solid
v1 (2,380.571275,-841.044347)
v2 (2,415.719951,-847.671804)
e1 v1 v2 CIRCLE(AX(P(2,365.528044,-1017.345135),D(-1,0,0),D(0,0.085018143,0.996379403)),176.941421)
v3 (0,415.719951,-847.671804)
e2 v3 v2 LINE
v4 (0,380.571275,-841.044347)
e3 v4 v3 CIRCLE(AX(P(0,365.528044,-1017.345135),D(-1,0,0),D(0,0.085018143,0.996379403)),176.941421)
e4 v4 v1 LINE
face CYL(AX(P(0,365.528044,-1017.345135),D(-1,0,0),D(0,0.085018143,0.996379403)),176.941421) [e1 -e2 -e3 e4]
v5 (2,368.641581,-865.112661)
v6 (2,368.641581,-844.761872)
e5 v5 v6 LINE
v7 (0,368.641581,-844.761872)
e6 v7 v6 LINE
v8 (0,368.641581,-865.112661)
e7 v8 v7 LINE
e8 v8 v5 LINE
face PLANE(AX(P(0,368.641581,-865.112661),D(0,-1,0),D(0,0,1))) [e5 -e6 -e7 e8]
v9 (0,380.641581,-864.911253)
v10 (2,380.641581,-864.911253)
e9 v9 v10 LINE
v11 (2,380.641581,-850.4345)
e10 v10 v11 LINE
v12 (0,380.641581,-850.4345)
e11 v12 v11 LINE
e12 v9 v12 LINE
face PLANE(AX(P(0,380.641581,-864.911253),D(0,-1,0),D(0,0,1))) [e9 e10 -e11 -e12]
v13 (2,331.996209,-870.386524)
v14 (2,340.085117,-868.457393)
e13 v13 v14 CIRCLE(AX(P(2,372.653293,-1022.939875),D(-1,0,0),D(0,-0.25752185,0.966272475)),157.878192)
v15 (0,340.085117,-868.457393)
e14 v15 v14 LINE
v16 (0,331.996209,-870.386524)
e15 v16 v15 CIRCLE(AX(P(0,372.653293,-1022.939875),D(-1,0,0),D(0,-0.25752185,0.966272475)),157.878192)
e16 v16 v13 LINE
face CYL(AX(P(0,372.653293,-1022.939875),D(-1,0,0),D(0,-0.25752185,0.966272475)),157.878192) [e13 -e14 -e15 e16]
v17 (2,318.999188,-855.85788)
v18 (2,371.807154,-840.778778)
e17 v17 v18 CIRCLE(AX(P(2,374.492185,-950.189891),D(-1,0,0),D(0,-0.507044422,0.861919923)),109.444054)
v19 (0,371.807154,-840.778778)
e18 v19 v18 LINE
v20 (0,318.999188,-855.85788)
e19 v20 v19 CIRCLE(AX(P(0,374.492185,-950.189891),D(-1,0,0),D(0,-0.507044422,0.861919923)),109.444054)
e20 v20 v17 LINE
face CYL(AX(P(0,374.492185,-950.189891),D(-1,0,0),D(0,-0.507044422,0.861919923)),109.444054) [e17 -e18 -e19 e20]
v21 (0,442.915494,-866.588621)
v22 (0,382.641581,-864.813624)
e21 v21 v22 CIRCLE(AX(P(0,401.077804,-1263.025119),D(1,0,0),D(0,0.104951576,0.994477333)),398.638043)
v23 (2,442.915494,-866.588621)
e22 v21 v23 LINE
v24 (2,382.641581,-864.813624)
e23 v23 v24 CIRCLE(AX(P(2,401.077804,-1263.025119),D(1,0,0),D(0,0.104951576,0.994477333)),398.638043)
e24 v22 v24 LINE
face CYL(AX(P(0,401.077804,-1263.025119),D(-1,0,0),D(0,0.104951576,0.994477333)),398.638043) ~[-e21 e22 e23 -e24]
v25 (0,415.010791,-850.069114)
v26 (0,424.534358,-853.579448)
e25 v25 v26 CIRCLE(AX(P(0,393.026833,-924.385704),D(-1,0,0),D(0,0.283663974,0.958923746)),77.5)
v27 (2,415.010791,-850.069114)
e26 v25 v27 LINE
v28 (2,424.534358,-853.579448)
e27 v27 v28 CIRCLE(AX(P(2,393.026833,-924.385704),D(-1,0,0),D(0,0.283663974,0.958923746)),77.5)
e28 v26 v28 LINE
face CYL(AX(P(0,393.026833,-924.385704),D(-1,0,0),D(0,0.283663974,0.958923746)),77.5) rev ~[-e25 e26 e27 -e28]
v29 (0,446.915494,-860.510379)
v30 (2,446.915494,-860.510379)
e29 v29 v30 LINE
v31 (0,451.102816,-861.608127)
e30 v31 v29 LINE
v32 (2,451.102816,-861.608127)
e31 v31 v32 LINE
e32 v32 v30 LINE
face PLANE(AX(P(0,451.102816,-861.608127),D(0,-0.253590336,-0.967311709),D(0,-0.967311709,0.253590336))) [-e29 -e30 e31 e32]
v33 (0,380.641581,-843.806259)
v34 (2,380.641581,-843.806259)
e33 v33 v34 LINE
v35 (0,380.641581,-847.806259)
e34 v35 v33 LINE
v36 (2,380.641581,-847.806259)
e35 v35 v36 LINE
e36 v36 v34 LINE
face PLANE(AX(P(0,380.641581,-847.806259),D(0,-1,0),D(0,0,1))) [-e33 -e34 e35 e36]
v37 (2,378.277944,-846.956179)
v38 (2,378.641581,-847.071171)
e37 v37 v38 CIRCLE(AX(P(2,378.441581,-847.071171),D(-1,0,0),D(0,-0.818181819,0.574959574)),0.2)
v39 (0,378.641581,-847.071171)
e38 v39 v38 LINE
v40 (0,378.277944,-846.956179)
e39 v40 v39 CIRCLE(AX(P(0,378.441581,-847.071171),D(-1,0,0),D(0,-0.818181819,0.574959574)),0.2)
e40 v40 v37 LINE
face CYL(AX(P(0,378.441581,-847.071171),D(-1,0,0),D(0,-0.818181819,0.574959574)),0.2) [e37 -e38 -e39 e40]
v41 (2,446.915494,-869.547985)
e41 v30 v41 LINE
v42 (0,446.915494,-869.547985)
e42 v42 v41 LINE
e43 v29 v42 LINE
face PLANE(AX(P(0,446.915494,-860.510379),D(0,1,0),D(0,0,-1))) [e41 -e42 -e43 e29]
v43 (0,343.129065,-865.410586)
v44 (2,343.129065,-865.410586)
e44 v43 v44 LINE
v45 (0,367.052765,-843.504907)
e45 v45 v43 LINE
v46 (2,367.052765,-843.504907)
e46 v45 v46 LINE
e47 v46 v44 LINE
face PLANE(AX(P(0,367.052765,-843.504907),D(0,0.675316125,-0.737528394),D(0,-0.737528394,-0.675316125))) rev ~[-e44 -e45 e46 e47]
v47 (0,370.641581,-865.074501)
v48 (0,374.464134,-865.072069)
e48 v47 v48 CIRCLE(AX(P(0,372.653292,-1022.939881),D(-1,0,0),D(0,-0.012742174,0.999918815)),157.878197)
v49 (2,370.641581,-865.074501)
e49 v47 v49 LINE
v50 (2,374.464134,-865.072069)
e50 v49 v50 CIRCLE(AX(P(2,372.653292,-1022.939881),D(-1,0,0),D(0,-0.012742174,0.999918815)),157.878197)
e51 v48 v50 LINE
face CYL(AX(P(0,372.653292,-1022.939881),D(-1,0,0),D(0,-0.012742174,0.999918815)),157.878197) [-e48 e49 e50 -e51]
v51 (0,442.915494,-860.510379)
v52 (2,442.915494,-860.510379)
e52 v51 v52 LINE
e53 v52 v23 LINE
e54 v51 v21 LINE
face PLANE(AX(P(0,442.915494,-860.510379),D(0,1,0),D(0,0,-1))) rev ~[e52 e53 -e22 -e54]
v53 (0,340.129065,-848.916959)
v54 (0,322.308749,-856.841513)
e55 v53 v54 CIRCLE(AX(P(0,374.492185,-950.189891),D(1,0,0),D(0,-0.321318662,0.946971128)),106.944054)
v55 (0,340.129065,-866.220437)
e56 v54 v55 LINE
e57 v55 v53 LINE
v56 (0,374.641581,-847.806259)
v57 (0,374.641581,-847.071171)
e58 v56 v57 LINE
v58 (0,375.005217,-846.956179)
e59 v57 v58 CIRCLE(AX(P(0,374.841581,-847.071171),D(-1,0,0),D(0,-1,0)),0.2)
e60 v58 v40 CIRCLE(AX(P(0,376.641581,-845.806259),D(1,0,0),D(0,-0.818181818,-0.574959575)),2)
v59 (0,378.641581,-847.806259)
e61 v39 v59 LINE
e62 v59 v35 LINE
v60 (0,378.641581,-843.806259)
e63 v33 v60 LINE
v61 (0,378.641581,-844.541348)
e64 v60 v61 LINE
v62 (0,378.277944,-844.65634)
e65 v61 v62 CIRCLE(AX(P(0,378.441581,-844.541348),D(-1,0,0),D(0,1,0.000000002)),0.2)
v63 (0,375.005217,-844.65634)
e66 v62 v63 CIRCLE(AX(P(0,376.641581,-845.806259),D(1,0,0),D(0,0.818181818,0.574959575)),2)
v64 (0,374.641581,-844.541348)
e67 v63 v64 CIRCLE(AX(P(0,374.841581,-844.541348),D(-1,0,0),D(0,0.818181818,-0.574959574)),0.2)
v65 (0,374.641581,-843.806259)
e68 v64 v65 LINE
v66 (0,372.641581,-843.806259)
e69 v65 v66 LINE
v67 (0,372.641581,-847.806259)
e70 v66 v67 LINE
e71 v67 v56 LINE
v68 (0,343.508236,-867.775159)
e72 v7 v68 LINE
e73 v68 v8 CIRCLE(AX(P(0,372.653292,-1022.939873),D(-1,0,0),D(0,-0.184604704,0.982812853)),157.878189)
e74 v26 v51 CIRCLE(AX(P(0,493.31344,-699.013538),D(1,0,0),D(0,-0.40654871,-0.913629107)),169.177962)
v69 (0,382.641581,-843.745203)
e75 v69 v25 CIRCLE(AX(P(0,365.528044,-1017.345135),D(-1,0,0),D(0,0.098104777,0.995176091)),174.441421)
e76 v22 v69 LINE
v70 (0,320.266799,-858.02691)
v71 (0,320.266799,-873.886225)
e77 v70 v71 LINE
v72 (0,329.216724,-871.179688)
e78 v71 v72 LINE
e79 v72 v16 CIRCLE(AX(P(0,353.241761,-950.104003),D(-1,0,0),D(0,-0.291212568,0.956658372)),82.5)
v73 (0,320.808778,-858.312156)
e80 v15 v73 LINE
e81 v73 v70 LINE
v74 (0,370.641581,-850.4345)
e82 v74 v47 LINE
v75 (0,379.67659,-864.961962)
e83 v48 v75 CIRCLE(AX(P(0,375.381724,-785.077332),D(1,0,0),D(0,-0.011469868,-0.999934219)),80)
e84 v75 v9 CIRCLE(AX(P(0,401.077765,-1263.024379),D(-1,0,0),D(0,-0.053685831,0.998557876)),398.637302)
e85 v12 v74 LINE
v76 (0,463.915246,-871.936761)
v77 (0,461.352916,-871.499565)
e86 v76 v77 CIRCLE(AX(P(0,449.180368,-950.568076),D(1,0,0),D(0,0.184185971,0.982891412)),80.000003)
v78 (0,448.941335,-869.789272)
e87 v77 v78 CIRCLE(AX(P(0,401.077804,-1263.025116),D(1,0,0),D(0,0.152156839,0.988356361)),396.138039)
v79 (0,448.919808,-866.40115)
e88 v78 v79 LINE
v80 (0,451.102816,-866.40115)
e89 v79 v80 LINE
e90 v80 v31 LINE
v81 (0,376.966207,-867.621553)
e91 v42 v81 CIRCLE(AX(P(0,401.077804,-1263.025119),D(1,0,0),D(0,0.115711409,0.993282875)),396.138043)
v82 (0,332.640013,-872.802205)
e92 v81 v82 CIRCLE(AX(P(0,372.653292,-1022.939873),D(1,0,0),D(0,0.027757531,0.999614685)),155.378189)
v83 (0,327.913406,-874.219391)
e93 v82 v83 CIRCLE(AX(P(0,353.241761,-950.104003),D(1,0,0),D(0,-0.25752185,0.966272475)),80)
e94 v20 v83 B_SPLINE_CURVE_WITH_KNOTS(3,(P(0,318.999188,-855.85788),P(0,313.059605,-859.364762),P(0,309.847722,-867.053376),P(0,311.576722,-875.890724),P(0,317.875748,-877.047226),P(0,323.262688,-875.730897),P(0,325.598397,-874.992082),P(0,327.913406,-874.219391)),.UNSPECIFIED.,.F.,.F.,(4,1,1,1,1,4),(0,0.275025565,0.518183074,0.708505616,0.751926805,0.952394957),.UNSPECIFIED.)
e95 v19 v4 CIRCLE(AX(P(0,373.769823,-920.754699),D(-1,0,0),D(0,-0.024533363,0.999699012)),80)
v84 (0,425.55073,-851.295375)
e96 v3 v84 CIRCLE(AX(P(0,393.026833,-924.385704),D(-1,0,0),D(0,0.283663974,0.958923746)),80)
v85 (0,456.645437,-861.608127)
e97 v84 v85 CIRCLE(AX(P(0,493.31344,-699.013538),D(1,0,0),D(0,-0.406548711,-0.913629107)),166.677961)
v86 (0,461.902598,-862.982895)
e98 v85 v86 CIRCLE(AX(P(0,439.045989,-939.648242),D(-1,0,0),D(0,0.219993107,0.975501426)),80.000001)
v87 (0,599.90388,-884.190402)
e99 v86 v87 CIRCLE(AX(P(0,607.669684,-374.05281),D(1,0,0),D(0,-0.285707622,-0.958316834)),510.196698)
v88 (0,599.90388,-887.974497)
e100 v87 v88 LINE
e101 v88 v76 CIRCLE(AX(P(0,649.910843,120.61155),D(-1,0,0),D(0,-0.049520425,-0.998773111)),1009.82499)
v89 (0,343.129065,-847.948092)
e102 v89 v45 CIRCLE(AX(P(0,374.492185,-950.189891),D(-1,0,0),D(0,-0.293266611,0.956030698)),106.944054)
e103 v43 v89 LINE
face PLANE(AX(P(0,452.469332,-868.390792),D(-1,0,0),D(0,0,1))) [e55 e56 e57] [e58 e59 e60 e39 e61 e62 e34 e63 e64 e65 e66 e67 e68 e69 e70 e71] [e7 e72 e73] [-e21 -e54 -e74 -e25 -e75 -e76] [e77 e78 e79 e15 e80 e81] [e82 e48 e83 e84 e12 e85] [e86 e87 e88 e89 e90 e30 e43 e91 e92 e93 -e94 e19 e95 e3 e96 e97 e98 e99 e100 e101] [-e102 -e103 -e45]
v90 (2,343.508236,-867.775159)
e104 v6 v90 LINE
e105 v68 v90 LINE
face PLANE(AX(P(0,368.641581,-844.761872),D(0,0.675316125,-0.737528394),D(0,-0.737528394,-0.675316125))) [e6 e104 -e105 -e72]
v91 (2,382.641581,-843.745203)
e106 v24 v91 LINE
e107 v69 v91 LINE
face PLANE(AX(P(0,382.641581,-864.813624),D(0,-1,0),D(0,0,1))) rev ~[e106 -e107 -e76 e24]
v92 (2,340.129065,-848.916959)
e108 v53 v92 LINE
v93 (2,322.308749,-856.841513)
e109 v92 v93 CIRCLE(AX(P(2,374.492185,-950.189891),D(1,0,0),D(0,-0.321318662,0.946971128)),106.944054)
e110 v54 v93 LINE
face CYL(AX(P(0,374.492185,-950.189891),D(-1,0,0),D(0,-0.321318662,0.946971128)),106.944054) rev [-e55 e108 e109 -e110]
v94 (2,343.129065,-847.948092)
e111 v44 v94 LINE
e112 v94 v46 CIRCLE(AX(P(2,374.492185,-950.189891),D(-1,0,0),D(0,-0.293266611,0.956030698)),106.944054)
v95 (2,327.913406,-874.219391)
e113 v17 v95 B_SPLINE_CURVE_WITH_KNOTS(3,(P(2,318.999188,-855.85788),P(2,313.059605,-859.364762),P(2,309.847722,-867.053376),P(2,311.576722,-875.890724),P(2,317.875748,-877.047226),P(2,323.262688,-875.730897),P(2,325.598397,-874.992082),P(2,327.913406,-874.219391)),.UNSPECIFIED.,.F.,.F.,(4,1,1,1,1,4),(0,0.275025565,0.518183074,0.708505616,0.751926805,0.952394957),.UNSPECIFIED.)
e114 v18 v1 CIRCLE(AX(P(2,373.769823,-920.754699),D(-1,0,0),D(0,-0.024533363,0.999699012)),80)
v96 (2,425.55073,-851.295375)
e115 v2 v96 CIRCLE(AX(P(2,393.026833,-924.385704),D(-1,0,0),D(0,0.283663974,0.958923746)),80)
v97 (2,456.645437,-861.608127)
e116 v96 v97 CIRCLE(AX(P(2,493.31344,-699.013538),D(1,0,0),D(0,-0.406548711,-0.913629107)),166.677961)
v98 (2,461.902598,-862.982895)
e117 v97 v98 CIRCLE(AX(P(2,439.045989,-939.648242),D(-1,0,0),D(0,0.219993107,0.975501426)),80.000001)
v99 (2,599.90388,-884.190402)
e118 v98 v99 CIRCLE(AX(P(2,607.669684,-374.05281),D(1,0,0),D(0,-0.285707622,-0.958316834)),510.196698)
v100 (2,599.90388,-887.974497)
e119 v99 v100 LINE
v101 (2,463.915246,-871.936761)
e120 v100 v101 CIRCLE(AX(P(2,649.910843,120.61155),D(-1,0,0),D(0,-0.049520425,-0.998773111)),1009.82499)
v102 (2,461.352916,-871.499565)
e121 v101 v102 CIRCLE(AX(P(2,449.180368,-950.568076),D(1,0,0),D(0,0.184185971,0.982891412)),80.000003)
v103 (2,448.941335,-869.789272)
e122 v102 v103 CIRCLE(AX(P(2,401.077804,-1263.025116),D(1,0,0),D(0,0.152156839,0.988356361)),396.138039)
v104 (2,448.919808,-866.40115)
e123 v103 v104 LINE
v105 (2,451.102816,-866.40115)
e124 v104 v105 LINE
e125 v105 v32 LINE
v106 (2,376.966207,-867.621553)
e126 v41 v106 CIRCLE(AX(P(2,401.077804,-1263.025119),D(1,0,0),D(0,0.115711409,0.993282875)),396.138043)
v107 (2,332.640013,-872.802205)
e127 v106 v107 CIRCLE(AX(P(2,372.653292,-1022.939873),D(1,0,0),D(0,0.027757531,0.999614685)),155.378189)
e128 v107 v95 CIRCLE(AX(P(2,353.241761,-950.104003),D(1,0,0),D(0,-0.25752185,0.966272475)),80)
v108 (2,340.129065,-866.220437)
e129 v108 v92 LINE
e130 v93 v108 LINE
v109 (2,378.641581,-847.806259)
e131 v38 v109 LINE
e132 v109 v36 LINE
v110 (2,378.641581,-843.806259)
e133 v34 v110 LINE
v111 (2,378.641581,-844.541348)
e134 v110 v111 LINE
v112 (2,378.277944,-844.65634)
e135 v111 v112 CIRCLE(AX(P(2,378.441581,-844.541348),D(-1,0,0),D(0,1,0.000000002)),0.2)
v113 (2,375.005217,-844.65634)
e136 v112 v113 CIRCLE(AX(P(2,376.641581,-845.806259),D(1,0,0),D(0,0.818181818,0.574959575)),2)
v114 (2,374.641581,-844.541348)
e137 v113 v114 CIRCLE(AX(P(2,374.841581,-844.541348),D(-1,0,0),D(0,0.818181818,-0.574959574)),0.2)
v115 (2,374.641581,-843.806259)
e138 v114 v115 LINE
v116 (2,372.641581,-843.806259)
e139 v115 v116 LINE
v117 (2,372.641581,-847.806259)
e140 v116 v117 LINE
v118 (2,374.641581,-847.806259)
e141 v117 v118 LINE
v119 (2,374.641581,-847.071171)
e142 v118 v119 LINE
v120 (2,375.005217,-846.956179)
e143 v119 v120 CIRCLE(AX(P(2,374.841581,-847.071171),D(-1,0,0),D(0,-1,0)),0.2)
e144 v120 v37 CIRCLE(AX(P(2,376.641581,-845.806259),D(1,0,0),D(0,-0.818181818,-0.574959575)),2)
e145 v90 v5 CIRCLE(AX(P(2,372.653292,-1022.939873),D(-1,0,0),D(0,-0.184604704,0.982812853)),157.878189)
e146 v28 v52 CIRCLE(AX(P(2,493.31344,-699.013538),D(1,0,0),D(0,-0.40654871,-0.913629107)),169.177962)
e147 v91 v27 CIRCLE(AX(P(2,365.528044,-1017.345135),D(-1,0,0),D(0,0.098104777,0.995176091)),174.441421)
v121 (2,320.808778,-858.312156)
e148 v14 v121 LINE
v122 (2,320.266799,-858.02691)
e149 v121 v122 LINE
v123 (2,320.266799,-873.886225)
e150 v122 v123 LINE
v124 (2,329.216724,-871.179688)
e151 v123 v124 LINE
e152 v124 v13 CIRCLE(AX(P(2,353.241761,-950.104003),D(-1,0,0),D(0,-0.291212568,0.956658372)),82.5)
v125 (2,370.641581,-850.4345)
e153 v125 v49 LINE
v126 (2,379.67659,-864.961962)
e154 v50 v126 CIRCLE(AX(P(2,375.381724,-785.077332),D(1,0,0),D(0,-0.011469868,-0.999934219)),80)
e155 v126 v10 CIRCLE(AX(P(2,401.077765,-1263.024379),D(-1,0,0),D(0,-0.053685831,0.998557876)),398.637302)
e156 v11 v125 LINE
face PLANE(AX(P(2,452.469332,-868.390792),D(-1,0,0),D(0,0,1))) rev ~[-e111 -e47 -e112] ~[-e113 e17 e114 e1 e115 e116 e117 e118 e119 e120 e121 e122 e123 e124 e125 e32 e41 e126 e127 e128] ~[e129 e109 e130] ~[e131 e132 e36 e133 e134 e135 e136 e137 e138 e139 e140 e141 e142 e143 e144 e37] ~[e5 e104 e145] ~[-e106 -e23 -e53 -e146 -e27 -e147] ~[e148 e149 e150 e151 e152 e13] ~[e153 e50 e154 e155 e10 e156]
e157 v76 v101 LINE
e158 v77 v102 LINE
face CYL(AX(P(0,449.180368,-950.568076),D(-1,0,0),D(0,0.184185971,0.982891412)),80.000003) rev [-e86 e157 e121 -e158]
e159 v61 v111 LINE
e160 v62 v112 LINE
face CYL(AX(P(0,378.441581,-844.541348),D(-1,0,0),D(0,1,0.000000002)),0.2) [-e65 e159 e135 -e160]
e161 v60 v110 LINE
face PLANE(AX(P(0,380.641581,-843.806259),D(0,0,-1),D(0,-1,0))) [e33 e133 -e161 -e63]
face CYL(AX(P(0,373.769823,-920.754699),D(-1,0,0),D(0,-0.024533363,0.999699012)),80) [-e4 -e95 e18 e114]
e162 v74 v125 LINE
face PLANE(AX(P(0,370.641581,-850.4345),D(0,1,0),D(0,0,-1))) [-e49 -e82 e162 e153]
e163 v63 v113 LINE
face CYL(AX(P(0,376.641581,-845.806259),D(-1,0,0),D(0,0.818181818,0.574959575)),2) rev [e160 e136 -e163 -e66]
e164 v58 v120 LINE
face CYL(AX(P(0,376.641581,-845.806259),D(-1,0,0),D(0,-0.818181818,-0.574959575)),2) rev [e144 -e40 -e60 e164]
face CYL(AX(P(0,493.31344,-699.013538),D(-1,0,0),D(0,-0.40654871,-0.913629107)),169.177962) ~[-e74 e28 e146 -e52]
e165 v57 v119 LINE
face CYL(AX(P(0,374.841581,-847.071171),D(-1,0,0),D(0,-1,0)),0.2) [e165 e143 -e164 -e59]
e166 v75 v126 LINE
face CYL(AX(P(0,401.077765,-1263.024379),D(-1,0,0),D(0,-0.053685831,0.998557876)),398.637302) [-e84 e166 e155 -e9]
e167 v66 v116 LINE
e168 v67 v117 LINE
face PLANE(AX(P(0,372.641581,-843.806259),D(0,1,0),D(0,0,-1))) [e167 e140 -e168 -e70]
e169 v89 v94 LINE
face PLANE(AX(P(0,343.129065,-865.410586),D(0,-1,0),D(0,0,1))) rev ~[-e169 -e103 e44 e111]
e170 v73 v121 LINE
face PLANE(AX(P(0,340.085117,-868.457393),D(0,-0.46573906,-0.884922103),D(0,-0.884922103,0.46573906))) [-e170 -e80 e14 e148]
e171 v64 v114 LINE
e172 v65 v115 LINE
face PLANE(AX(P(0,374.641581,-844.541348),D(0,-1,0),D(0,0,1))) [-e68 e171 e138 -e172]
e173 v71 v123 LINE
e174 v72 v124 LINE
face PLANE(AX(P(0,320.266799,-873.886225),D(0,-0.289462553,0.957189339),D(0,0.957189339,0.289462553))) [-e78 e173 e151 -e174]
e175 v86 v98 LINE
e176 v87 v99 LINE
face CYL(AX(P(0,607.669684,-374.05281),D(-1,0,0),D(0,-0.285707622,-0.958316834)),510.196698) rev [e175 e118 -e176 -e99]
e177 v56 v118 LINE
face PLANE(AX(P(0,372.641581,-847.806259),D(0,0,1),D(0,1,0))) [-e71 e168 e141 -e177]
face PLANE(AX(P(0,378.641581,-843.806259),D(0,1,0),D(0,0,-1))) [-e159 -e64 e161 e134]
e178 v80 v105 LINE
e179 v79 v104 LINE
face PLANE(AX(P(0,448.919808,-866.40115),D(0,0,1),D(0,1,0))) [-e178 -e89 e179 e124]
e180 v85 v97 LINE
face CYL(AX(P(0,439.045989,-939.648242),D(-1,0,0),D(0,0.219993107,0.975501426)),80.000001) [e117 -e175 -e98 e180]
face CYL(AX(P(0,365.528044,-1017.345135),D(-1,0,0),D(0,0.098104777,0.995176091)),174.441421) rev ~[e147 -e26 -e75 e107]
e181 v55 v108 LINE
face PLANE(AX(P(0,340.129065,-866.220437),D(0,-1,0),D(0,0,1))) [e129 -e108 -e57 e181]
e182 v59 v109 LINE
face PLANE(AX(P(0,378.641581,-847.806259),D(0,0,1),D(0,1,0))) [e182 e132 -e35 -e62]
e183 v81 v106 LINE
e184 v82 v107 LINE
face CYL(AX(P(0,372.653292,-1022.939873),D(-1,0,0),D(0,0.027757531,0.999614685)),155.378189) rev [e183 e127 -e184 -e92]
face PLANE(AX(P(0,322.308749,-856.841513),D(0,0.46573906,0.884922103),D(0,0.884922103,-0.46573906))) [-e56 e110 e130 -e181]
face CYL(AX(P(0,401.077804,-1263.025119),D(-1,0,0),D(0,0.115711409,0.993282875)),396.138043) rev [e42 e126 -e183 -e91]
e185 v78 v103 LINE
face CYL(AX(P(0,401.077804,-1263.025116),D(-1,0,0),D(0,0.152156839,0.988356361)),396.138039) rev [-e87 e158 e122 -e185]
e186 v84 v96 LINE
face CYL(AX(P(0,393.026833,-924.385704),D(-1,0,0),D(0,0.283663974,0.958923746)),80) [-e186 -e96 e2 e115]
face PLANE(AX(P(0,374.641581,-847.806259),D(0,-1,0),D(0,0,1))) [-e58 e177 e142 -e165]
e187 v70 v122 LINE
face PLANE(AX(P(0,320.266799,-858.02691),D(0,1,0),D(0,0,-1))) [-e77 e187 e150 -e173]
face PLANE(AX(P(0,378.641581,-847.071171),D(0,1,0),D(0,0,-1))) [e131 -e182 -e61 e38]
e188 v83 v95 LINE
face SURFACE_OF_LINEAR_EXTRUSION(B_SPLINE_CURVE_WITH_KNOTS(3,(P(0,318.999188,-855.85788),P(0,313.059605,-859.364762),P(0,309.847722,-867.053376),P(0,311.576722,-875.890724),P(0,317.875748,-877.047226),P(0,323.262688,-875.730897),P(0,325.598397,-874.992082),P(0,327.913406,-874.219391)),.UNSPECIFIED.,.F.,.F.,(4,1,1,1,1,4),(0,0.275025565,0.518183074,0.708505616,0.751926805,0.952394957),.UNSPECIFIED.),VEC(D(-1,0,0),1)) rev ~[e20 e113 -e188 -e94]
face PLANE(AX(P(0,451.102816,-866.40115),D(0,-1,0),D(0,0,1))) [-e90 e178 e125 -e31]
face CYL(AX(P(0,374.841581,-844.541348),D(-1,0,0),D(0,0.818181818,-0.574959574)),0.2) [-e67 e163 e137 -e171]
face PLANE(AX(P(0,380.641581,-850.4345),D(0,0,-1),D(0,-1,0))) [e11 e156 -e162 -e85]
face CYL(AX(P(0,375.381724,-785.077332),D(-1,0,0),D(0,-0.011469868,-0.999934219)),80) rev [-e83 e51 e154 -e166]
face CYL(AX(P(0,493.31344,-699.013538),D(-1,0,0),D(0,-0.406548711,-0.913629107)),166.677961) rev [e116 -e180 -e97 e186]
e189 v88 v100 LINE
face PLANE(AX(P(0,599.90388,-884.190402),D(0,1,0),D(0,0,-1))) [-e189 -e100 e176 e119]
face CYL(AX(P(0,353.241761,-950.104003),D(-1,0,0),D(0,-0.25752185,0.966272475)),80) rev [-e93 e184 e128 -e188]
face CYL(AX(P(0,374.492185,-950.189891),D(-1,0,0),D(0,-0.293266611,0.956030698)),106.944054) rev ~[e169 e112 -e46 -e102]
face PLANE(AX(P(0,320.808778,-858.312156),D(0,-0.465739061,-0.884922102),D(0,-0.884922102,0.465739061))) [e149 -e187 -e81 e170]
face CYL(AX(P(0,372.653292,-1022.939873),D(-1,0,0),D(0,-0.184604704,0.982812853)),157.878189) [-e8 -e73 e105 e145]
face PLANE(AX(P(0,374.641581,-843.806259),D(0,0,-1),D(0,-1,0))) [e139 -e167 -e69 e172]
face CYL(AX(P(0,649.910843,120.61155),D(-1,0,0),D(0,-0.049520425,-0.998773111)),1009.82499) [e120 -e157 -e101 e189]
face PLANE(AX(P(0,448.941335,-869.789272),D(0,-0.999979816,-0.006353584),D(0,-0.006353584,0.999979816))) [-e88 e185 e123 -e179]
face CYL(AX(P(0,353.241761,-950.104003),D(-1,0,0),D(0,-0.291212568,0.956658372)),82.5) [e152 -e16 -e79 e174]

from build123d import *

# Parameters (mm, degrees)
BOSS_EXTRUDE3_DEPTH = 2


with BuildPart() as part:
    # rib1 → Boss-Extrude3 (new body)
    with BuildSketch(Plane(origin=(0, 0, 0), x_dir=(0, 0, -1), z_dir=(1, 0, 0))):
        with BuildLine():
            Line((884.190402355, 599.903880086), (887.974497078, 599.903880086))
            ThreePointArc((887.974497078, 599.903880086), (882.263270905, 531.637412846), (871.936760509, 463.915246337))
            ThreePointArc((871.936760509, 463.915246337), (871.707754952, 462.63585681), (871.499564589, 461.352915705))
            ThreePointArc((871.499564589, 461.352915705), (870.595346832, 455.153887164), (869.789272098, 448.9413347))
            Line((869.789272098, 448.9413347), (866.401149721, 448.919807544))
            Line((866.401149721, 448.919807544), (866.401149721, 451.102816327))
            Line((866.401149721, 451.102816327), (861.608127253, 451.102816327))
            Line((861.608127253, 451.102816327), (860.510379387, 446.915494441))
            Line((860.510379387, 446.915494441), (865.375229135, 446.915494441))
            Line((865.375229135, 446.915494441), (869.54798498, 446.915494441))
            ThreePointArc((869.54798498, 446.915494441), (867.037221046, 411.983470834), (867.621553236, 376.966207023))
            ThreePointArc((867.621553236, 376.966207023), (868.612160303, 354.616141956), (872.80220547, 332.640013262))
            ThreePointArc((872.80220547, 332.640013262), (873.47434667, 330.265780469), (874.219390873, 327.913406289))
            add(Edge.make_bspline(
                [(855.857880167, 318.999188197), (859.364761712, 313.05960504), (867.053375546, 309.847722104), (875.890724025, 311.576721792), (877.047226337, 317.875748314), (875.730897291, 323.262688208), (874.992082107, 325.59839708), (874.219390873, 327.913406289)],
                knots=[0, 0, 0, 0, 0.275025565, 0.518183074, 0.708505616, 0.751926805, 0.952394957, 0.952394957, 0.952394957, 0.952394957], degree=3))
            ThreePointArc((855.857880167, 318.999188197), (844.952134323, 344.441967913), (840.778778225, 371.807154391))
            ThreePointArc((840.778778225, 371.807154391), (840.791401867, 376.192855714), (841.044346896, 380.571274865))
            ThreePointArc((841.044346896, 380.571274865), (843.467649147, 398.313507068), (847.671804222, 415.719950629))
            ThreePointArc((847.671804222, 415.719950629), (849.322478828, 420.694724685), (851.295375271, 425.550729544))
            ThreePointArc((851.295375271, 425.550729544), (857.21755567, 440.844099615), (861.608127253, 456.645437216))
            ThreePointArc((861.608127253, 456.645437216), (862.250861952, 459.285693699), (862.982894629, 461.902598426))
            ThreePointArc((862.982894629, 461.902598426), (878.329662766, 530.174351012), (884.190402355, 599.903880086))
        make_face()
        with BuildLine():
            Line((856.934499706, 370.641580619), (865.074501074, 370.641580619))
            ThreePointArc((865.074501074, 370.641580619), (865.061715716, 372.55284998), (865.072069166, 374.464134061))
            ThreePointArc((865.072069166, 374.464134061), (865.059488848, 377.071259141), (864.961961737, 379.676589813))
            ThreePointArc((864.961961737, 379.676589813), (864.936315213, 380.159069851), (864.911253489, 380.641580619))
            Line((864.911253489, 380.641580619), (855.857880167, 380.641580619))
            Line((855.857880167, 380.641580619), (850.434499706, 380.641580619))
            Line((850.434499706, 380.641580619), (850.434499706, 379.641580619))
            Line((850.434499706, 379.641580619), (850.434499706, 376.641580619))
            Line((850.434499706, 376.641580619), (850.434499706, 373.641580619))
            Line((850.434499706, 373.641580619), (850.434499706, 370.641580619))
            Line((850.434499706, 370.641580619), (856.934499706, 370.641580619))
        make_face(mode=Mode.SUBTRACT)
        with BuildLine():
            Line((843.806259463, 374.641580619), (843.806259463, 372.641580619))
            Line((843.806259463, 372.641580619), (847.806259463, 372.641580619))
            Line((847.806259463, 372.641580619), (847.806259463, 374.641580619))
            Line((847.806259463, 374.641580619), (847.071170527, 374.641580619))
            ThreePointArc((847.071170527, 374.641580619), (846.880478009, 374.78127835), (846.956178612, 375.005216983))
            ThreePointArc((846.956178612, 375.005216983), (847.806259463, 376.641580619), (846.956178612, 378.277944256))
            ThreePointArc((846.956178612, 378.277944256), (846.880478009, 378.501882888), (847.071170527, 378.641580619))
            Line((847.071170527, 378.641580619), (847.806259463, 378.641580619))
            Line((847.806259463, 378.641580619), (847.806259463, 380.641580619))
            Line((847.806259463, 380.641580619), (843.806259463, 380.641580619))
            Line((843.806259463, 380.641580619), (843.806259463, 378.641580619))
            Line((843.806259463, 378.641580619), (844.541348398, 378.641580619))
            ThreePointArc((844.541348398, 378.641580619), (844.732040916, 378.501882888), (844.656340313, 378.277944256))
            ThreePointArc((844.656340313, 378.277944256), (843.806259463, 376.641580619), (844.656340313, 375.005216983))
            ThreePointArc((844.656340313, 375.005216983), (844.732040916, 374.78127835), (844.541348398, 374.641580619))
            Line((844.541348398, 374.641580619), (843.806259463, 374.641580619))
        make_face(mode=Mode.SUBTRACT)
        with BuildLine():
            Line((855.857880167, 382.641580619), (843.745202867, 382.641580619))
            ThreePointArc((843.745202867, 382.641580619), (846.140446491, 398.975976663), (850.069113586, 415.010790694))
            ThreePointArc((850.069113586, 415.010790694), (851.66820461, 419.830103061), (853.57944804, 424.534357768))
            ThreePointArc((853.57944804, 424.534357768), (857.311934253, 433.624241307), (860.510379387, 442.915494441))
            Line((860.510379387, 442.915494441), (866.588621263, 442.915494441))
            ThreePointArc((866.588621263, 442.915494441), (864.559820273, 412.812147569), (864.813623932, 382.641580619))
            Line((864.813623932, 382.641580619), (855.857880167, 382.641580619))
        make_face(mode=Mode.SUBTRACT)
        with BuildLine():
            Line((856.934499706, 368.641580619), (844.761871726, 368.641580619))
            Line((844.761871726, 368.641580619), (867.775159476, 343.508235636))
            ThreePointArc((867.775159476, 343.508235636), (865.940167273, 356.021544161), (865.112661127, 368.641580619))
            Line((865.112661127, 368.641580619), (856.934499706, 368.641580619))
        make_face(mode=Mode.SUBTRACT)
        with BuildLine():
            Line((866.220437017, 340.129064892), (848.91695937, 340.129064892))
            ThreePointArc((848.91695937, 340.129064892), (852.472162499, 331.037884456), (856.841512929, 322.308748884))
            Line((856.841512929, 322.308748884), (866.220437017, 340.129064892))
        make_face(mode=Mode.SUBTRACT)
        with BuildLine():
            Line((858.312156349, 320.808777779), (858.026910258, 320.266799251))
            Line((858.026910258, 320.266799251), (873.886224652, 320.266799251))
            Line((873.886224652, 320.266799251), (871.179687831, 329.216724417))
            ThreePointArc((871.179687831, 329.216724417), (870.770932499, 330.602992637), (870.386524281, 331.996208637))
            ThreePointArc((870.386524281, 331.996208637), (869.368691994, 336.027959273), (868.457393024, 340.085117137))
            Line((868.457393024, 340.085117137), (858.312156349, 320.808777779))
        make_face(mode=Mode.SUBTRACT)
        with BuildLine():
            Line((848.420317738, 343.129064892), (847.948092292, 343.129064892))
            ThreePointArc((847.948092292, 343.129064892), (845.043868959, 354.964134396), (843.504907333, 367.052764611))
            Line((843.504907333, 367.052764611), (865.410586264, 343.129064892))
            Line((865.410586264, 343.129064892), (848.420317738, 343.129064892))
        make_face(mode=Mode.SUBTRACT)
    extrude(amount=BOSS_EXTRUDE3_DEPTH)


solid = part.part
